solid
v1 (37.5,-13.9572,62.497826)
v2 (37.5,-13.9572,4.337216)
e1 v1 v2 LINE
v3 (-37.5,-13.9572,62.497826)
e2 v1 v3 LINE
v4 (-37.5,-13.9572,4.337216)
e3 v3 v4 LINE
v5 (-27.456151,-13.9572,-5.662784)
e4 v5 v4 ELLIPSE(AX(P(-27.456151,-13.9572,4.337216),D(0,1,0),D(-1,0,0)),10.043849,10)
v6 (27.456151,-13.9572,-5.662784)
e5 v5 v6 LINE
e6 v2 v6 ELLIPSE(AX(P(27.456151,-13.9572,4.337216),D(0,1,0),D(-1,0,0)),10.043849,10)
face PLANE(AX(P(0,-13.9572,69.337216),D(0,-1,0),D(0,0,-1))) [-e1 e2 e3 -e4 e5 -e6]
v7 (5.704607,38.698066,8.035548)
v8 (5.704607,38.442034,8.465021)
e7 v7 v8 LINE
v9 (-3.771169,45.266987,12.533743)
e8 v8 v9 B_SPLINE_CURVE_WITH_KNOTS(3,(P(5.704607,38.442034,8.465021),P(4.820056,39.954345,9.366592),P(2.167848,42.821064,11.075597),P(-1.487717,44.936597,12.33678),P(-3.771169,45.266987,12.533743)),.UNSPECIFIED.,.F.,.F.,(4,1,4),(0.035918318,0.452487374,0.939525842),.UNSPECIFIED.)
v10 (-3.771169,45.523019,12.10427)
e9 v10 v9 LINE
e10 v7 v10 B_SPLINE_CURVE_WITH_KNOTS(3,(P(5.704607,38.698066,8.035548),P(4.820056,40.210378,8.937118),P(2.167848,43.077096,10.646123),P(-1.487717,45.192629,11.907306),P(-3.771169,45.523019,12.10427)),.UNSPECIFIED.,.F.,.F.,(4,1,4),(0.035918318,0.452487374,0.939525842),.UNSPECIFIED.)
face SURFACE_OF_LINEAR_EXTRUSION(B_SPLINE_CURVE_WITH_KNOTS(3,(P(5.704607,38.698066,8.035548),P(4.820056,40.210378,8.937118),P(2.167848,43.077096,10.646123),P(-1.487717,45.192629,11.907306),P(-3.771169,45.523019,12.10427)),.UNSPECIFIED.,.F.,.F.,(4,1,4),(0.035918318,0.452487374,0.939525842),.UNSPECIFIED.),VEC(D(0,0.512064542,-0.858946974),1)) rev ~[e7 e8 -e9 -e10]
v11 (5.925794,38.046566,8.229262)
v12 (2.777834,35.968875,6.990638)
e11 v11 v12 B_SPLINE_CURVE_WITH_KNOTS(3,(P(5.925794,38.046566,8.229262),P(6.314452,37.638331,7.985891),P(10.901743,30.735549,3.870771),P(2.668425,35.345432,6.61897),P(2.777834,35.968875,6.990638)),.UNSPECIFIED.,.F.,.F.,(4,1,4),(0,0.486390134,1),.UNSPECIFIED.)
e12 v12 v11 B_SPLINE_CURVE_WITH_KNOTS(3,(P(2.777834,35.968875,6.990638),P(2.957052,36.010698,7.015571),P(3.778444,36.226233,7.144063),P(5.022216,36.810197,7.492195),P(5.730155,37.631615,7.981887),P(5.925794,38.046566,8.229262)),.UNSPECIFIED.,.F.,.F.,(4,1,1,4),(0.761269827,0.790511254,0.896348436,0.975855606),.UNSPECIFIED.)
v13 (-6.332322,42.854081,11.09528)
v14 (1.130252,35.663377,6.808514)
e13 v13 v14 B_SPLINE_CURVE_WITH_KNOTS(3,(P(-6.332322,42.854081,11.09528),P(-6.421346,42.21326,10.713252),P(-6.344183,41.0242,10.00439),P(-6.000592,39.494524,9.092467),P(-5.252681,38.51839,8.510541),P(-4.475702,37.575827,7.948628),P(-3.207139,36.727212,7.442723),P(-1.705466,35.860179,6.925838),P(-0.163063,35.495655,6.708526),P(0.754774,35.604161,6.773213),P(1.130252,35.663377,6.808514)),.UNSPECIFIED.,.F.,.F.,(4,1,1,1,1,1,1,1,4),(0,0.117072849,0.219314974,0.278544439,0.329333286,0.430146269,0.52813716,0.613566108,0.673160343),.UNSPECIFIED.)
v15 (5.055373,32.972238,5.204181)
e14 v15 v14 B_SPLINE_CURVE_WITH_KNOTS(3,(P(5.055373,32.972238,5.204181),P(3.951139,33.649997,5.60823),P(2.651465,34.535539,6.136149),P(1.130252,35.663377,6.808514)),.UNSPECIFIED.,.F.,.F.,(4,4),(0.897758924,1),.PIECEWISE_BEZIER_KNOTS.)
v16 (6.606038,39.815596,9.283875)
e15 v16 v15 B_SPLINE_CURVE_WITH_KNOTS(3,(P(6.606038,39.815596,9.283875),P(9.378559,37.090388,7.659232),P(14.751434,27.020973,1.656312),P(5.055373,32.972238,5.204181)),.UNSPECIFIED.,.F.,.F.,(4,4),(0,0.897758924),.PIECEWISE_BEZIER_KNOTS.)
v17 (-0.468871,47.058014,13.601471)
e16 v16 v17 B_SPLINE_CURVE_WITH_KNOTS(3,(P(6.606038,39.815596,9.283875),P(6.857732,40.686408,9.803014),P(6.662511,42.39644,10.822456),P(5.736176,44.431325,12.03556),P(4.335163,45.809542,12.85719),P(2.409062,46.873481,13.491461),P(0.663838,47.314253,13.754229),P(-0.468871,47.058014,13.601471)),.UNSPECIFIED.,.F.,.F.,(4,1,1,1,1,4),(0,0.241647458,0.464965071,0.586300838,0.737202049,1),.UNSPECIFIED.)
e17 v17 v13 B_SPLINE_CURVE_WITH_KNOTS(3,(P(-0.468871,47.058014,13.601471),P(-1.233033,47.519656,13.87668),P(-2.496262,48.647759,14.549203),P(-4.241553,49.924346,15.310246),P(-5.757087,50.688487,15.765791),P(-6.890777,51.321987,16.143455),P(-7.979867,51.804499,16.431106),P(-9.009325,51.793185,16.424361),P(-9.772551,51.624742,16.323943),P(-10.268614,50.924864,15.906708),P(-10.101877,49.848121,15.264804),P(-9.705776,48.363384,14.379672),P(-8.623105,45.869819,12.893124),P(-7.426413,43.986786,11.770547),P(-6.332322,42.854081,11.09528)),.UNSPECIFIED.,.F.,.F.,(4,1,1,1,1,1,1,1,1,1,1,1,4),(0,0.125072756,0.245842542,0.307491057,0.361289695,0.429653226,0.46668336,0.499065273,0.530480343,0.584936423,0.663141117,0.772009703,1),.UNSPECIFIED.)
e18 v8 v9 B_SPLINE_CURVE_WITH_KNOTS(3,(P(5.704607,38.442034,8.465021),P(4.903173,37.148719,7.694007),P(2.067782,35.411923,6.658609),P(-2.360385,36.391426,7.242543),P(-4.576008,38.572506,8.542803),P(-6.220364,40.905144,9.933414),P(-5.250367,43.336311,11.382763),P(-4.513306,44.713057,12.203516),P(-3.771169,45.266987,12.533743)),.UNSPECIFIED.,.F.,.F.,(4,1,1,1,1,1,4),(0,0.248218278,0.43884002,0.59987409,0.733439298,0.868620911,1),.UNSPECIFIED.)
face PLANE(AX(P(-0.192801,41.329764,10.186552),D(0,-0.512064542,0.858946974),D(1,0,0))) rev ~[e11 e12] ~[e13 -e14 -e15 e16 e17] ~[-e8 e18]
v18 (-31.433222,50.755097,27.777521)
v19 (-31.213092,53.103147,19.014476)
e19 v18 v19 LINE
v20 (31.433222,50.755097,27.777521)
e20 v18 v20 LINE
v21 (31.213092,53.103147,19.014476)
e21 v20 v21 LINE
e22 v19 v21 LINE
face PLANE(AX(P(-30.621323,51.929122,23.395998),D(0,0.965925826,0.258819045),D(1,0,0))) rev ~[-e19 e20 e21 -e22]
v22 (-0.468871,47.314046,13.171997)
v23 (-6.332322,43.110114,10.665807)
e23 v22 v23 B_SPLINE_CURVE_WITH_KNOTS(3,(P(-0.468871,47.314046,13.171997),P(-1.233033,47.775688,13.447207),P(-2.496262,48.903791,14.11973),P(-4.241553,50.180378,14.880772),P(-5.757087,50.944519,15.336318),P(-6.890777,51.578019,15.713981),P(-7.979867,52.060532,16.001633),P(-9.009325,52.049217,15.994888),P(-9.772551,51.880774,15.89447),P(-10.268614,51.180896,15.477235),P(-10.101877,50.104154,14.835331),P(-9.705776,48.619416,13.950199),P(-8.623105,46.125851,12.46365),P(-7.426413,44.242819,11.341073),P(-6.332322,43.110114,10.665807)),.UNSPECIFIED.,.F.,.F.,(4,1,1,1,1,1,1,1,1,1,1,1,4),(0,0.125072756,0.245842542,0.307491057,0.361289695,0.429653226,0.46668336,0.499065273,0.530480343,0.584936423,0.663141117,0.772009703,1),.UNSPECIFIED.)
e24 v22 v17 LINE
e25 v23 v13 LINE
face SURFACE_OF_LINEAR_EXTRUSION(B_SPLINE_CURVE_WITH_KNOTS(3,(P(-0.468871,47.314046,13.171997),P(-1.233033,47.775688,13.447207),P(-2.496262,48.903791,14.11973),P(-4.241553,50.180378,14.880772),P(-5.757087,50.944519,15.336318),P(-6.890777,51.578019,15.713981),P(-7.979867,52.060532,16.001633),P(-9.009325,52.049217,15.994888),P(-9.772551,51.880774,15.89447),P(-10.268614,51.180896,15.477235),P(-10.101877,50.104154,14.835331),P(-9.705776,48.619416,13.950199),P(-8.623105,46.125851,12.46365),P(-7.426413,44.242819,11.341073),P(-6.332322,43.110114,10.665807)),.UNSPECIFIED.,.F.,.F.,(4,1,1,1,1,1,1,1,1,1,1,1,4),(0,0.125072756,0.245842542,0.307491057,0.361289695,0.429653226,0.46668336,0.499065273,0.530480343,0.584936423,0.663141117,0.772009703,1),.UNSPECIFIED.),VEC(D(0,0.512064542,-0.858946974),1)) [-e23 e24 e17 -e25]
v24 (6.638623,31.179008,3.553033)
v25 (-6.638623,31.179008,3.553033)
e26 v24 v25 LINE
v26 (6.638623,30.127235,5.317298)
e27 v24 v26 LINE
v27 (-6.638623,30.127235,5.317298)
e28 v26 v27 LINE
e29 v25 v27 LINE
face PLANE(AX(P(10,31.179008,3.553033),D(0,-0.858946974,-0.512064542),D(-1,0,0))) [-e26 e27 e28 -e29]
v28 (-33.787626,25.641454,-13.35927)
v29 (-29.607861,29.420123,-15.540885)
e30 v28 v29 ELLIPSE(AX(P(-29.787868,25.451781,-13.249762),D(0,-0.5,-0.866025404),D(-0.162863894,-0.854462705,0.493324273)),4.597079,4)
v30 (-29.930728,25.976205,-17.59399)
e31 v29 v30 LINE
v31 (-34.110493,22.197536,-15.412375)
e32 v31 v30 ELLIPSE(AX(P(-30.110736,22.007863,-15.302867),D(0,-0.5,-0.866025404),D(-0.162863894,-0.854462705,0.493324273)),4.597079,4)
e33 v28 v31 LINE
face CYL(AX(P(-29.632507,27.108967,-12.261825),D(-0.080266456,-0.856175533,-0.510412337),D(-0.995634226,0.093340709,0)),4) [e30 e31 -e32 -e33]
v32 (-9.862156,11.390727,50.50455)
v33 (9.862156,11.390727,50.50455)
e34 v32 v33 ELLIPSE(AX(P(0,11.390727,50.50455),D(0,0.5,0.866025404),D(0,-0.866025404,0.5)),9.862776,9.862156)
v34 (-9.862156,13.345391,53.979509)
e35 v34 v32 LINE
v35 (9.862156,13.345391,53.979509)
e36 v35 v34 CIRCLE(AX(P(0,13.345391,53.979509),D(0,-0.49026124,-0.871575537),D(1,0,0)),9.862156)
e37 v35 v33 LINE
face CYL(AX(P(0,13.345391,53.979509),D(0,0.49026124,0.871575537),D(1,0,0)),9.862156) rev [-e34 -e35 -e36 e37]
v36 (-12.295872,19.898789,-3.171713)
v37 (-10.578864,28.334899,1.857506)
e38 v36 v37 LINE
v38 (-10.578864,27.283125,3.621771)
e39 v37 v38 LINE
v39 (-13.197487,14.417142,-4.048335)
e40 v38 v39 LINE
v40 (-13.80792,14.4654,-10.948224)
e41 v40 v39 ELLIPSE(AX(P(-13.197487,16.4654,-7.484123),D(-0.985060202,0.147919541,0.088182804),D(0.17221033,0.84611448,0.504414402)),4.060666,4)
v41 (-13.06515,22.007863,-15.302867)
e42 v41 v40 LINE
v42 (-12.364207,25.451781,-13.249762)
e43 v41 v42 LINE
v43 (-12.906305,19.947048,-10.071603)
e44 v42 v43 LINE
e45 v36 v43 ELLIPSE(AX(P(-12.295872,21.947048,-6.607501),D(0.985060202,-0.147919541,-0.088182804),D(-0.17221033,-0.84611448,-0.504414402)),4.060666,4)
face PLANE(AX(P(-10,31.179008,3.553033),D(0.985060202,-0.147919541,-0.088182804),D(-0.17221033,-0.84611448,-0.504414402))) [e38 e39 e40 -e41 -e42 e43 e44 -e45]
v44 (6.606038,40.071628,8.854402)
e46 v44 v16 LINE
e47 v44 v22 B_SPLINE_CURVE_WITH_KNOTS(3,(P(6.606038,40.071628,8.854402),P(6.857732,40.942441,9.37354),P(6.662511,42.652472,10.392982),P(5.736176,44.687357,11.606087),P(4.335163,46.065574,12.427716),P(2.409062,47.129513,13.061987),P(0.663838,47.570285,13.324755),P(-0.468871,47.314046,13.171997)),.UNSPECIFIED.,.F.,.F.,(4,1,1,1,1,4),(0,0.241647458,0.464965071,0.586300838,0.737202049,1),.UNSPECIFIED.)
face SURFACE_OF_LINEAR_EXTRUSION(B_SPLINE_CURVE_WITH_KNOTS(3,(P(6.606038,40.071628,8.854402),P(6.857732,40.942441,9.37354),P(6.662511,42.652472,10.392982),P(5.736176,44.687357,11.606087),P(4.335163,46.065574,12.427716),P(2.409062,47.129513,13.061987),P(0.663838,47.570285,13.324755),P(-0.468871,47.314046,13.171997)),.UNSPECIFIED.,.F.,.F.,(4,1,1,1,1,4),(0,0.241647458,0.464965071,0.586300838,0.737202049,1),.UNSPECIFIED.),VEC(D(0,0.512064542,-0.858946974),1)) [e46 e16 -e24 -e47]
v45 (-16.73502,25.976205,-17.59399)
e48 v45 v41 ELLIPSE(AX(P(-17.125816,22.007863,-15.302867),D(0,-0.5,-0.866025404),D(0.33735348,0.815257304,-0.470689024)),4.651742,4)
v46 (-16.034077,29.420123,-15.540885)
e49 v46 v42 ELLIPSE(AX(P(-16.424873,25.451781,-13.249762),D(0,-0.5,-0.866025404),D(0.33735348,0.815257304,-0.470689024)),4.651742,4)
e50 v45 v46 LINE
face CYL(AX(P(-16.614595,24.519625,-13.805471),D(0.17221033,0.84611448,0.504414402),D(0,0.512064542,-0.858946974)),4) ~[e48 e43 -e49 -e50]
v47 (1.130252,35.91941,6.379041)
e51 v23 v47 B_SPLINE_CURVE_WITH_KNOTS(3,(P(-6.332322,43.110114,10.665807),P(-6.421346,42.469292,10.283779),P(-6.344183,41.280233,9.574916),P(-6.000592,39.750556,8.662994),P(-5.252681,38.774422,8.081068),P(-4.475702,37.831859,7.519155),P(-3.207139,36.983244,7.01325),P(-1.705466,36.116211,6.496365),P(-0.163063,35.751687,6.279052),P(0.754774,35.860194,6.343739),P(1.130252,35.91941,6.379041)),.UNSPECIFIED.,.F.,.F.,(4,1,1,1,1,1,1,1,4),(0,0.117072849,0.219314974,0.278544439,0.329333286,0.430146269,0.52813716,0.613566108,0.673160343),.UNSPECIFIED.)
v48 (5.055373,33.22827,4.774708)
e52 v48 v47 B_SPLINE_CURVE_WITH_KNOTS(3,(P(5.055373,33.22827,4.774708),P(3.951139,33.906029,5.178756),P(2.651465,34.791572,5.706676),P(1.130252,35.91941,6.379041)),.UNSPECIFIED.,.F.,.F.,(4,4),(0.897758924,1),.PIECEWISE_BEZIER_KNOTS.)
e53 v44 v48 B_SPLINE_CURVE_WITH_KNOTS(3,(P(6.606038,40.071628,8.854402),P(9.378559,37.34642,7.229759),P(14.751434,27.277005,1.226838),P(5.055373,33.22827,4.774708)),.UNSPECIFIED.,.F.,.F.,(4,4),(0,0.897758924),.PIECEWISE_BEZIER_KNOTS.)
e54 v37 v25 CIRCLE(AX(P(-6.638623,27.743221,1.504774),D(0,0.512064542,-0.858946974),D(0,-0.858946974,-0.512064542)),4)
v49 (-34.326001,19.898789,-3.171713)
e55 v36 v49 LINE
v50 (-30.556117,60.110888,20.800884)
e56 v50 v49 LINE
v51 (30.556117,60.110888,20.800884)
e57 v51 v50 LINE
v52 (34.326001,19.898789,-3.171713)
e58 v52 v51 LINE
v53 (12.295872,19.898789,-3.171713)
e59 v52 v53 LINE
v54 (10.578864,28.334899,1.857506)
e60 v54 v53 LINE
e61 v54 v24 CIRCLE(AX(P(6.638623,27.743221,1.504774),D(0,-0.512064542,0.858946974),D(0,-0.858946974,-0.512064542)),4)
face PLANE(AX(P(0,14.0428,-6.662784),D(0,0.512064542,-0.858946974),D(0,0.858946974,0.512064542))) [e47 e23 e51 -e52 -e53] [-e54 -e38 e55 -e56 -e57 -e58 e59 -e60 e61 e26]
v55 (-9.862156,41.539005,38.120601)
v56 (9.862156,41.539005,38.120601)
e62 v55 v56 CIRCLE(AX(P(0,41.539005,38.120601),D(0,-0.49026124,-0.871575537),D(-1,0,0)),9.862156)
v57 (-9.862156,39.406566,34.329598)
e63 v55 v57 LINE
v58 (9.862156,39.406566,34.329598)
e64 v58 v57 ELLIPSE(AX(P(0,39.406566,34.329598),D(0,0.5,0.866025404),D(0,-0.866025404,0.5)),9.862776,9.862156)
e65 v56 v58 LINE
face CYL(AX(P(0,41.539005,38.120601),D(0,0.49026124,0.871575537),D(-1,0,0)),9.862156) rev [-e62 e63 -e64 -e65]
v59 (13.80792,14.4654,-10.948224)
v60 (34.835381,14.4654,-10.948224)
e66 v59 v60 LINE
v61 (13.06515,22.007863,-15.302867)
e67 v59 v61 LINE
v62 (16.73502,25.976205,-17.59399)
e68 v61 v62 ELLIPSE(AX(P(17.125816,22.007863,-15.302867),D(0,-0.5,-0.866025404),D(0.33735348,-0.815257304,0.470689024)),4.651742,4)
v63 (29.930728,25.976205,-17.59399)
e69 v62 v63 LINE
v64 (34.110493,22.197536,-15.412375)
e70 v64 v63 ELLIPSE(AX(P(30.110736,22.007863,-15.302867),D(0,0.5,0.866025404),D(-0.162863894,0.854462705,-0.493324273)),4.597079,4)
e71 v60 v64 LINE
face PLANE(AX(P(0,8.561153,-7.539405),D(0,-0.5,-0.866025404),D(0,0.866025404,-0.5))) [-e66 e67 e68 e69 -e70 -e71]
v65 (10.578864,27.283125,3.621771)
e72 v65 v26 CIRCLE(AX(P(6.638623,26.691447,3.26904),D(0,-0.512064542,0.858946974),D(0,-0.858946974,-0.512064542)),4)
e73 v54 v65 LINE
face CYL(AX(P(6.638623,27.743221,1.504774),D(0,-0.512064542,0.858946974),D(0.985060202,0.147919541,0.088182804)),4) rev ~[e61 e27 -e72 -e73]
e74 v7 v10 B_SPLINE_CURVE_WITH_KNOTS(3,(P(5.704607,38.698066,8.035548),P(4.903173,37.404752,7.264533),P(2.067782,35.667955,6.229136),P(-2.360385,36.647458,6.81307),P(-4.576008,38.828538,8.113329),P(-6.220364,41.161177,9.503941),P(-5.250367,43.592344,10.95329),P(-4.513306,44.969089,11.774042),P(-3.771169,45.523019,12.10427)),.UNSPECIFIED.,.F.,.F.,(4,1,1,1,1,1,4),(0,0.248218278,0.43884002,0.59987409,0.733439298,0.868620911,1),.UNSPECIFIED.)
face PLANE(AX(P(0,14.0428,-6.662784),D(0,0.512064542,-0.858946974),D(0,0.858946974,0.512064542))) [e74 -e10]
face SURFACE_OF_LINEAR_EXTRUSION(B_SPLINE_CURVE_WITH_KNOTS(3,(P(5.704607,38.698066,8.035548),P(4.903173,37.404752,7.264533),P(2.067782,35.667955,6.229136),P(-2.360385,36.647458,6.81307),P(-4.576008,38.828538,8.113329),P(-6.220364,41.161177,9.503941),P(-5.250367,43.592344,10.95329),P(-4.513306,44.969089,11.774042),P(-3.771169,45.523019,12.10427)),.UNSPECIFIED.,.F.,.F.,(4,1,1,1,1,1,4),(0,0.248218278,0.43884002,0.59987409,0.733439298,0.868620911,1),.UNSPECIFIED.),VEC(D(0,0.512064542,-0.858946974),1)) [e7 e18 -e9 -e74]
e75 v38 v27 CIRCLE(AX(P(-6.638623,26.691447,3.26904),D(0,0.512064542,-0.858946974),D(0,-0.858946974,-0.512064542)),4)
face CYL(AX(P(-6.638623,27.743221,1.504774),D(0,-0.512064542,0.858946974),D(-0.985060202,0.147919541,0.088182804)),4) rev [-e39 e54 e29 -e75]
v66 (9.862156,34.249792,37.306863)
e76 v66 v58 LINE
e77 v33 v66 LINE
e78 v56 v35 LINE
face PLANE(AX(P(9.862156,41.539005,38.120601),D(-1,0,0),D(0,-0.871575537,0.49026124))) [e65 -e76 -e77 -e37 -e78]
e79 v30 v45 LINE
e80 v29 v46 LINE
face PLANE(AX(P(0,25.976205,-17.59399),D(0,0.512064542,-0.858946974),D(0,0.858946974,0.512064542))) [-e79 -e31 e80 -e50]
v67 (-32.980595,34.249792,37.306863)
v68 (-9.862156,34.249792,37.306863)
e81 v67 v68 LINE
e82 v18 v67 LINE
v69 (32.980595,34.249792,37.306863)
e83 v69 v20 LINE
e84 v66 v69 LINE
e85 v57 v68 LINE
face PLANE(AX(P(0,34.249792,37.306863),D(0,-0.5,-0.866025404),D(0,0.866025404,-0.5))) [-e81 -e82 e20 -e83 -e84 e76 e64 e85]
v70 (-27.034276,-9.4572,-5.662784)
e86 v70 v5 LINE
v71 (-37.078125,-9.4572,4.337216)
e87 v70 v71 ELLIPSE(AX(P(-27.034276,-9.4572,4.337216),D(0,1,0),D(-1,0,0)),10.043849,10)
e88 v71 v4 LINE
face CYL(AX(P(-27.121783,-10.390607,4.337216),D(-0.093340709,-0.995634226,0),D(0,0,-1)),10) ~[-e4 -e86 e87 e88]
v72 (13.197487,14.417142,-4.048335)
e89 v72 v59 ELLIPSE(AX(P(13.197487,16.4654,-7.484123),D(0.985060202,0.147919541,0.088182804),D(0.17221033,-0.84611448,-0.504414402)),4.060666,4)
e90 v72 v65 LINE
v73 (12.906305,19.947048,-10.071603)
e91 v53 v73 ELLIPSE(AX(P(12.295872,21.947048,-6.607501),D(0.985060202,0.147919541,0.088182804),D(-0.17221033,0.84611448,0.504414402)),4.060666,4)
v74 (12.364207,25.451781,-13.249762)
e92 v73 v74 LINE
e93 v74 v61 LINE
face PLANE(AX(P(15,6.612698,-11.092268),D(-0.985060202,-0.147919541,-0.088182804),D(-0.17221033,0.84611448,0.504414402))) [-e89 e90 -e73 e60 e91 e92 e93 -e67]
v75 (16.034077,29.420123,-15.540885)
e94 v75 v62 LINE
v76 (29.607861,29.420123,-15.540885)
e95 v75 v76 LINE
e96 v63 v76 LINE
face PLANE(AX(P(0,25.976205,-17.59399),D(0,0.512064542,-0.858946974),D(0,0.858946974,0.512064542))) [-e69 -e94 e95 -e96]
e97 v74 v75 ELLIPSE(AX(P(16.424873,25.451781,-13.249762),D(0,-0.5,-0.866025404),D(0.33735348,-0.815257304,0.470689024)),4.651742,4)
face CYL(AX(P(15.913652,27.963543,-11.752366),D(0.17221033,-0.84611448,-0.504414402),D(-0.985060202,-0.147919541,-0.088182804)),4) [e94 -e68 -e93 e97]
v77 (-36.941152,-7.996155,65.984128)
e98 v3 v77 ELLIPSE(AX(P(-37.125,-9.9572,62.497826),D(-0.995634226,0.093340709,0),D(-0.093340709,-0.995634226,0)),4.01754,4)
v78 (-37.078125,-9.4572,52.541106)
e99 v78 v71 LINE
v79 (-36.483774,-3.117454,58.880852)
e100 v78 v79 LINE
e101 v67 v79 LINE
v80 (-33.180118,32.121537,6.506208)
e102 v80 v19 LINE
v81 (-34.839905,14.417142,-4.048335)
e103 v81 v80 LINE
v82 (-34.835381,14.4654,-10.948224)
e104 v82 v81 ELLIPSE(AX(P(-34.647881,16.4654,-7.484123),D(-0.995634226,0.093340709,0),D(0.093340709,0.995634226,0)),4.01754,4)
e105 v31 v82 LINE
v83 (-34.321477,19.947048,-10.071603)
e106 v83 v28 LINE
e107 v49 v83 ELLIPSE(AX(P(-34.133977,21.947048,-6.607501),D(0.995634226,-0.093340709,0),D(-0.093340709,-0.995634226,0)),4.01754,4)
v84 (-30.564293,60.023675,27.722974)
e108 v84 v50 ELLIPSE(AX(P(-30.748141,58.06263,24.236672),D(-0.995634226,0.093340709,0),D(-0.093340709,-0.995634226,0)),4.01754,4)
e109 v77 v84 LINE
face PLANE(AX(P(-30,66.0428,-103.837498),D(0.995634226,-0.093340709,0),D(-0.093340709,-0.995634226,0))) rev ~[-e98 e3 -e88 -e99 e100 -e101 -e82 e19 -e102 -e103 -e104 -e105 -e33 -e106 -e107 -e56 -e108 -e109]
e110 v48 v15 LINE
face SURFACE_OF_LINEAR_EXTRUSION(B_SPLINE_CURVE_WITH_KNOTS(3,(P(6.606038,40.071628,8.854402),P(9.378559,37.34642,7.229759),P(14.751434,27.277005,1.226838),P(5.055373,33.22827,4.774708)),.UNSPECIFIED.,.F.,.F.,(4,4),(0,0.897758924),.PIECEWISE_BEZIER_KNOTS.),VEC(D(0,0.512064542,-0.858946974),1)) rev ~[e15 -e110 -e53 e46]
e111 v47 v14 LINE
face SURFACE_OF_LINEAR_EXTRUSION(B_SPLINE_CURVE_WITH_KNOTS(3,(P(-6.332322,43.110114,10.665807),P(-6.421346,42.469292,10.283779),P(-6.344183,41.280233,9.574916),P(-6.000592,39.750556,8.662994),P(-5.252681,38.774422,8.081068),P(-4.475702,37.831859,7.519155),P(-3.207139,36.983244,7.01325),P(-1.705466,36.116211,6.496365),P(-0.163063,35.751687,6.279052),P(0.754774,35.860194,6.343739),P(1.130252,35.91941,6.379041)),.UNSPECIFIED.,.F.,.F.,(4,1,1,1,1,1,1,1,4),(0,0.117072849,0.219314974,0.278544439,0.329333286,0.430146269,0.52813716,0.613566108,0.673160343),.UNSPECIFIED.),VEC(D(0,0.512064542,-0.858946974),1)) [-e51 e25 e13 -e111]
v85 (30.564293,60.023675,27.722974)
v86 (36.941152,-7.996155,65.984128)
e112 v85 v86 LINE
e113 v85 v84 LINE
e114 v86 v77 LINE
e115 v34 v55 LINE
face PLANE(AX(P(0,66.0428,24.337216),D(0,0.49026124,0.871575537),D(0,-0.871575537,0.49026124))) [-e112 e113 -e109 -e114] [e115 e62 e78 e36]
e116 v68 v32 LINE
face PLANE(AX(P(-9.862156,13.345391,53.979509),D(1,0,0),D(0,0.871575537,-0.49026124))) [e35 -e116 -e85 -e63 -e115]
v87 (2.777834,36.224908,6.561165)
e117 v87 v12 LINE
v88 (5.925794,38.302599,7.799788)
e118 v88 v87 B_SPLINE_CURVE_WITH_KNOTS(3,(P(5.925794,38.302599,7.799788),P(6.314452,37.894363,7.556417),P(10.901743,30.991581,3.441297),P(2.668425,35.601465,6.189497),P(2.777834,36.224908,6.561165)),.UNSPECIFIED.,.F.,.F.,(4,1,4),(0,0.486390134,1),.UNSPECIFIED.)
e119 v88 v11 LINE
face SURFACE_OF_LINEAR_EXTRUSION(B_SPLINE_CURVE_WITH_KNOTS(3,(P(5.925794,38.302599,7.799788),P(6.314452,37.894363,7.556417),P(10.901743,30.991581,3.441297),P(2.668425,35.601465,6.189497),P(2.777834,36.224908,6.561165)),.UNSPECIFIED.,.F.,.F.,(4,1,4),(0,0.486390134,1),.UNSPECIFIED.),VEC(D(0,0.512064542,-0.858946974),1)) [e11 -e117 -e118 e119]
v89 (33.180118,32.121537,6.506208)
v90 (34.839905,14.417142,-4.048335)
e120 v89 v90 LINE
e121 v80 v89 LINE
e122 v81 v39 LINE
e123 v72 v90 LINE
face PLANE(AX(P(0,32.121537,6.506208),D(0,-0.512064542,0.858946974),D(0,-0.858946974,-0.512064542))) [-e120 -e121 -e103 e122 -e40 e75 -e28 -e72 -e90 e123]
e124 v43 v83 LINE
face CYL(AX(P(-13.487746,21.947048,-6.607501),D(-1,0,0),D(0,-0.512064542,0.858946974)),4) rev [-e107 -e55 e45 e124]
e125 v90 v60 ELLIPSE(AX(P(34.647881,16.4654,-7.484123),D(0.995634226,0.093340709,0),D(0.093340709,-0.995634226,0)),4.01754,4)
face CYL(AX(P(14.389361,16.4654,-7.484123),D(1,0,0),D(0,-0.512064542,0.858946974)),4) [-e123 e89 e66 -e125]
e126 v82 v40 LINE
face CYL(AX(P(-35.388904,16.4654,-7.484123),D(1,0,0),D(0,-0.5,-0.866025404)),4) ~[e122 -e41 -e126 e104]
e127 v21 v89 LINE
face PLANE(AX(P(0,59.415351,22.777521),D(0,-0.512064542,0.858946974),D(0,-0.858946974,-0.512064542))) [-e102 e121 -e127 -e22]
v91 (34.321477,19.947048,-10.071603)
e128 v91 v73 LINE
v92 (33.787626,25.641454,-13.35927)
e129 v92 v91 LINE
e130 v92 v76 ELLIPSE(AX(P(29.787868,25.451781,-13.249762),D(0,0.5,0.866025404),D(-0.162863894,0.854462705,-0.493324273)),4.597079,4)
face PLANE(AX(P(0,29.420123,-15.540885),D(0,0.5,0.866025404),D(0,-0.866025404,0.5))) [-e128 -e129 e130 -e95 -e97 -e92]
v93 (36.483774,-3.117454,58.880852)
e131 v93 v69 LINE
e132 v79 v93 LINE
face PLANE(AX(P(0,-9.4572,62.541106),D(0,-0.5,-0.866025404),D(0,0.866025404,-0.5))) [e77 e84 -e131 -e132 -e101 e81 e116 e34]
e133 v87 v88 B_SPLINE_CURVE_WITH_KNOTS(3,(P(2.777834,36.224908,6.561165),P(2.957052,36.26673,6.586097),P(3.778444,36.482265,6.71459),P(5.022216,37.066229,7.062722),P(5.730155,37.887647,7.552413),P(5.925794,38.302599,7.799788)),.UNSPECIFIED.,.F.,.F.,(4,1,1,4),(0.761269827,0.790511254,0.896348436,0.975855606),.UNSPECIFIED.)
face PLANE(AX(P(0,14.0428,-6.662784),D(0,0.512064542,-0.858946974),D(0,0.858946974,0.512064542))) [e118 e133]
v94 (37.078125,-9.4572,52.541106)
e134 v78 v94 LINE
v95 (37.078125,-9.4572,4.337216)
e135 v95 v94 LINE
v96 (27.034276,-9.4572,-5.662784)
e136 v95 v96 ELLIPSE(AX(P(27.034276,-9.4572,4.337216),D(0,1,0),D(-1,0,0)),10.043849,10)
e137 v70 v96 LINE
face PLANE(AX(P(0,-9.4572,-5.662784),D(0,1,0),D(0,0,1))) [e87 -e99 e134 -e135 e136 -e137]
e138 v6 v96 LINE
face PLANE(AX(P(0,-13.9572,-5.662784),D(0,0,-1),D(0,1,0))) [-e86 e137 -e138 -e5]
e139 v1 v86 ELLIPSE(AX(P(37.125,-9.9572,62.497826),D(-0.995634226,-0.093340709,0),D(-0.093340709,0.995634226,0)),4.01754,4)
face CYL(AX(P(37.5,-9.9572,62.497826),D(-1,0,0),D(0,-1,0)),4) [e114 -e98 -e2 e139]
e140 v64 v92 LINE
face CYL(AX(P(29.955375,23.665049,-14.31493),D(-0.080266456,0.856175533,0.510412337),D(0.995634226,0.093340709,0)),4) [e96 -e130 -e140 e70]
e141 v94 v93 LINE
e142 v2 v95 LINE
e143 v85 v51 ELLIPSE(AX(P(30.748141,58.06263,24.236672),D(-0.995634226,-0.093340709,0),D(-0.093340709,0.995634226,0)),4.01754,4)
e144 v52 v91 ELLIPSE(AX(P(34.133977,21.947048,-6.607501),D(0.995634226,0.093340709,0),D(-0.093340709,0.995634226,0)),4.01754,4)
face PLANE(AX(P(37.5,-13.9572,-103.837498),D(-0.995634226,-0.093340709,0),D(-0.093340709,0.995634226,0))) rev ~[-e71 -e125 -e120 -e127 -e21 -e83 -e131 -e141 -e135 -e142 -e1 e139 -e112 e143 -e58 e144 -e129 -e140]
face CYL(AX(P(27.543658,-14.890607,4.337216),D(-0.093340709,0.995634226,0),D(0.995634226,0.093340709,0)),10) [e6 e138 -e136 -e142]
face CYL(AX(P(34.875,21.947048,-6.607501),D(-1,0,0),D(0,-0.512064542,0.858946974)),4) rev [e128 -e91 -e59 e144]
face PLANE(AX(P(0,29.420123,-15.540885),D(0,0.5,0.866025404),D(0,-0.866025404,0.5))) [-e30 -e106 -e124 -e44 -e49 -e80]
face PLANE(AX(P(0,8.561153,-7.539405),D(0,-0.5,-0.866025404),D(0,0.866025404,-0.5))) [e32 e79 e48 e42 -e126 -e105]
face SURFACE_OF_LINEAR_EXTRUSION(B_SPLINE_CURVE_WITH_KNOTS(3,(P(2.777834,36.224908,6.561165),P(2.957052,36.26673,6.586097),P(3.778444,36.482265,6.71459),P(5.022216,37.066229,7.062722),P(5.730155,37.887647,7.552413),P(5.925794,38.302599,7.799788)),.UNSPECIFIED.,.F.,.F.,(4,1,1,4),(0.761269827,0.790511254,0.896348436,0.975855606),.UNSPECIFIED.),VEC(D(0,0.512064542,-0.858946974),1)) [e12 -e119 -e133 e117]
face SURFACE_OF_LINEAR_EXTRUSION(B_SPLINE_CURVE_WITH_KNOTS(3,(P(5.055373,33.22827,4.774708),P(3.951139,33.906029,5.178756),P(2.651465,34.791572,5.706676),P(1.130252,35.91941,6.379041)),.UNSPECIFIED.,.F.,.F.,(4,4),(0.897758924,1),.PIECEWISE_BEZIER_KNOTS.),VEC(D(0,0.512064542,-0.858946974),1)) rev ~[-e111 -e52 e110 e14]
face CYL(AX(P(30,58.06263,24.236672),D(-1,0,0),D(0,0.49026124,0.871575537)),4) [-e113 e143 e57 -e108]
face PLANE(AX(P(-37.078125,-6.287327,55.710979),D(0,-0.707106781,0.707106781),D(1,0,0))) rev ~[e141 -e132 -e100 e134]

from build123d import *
from OCP.BRepFilletAPI import BRepFilletAPI_MakeChamfer

# Parameters (mm, degrees)
EXTRUDE_2_DEPTH                 = 37.5
CUT_EXTRUDE_7_DEPTH             = 103.837497834
CUT_EXTRUDE_7_DEPTH_BACK        = 103.837497834
CUT_EXTRUDE_3_DEPTH             = 103.837497834
CUT_EXTRUDE_3_DEPTH_BACK        = 103.837497834
CUT_EXTRUDE_4_REACH             = 108.804
CUT_EXTRUDE_4_DIRECTION_2_DEPTH = 107.803974103
FILLET_1_R                      = 10
FILLET_2_R                      = 10
CHAMFER_1_SIZE                  = 10
CHAMFER_1_SIZE2                 = 7.348769571
CHAMFER_1_SIZE2_2               = 7.320508076
FILLET_4_R                      = 4
FILLET_5_R                      = 4
FILLET_6_R                      = 4
FILLET_7_R                      = 4
FILLET_8_R                      = 4
CUT_EXTRUDE_5_REACH             = 86.613
FILLET_9_R                      = 4
CUT_EXTRUDE_19_DEPTH            = 0.5


with BuildPart() as part:
    # 草图1 → 凸台-拉伸2 (new, symmetric)
    with BuildSketch(Plane(origin=(0, 0, 0), x_dir=(0, 0, -1), z_dir=(1, 0, 0))):
        Polygon((-69.337215993, -13.957199945), (5.662784007, -13.957199945), (5.662784007, -9.457199945), (-62.541106353, -9.457199945), (-37.306862797, 34.249791985), (-22.77752063, 59.415350818), (-6.506208301, 32.121536588), (7.539405244, 8.561152577), (17.593990312, 25.976204763), (15.540885381, 29.420122711), (6.662784007, 14.042800055), (-24.337215993, 66.042800055), align=None)
    extrude(amount=EXTRUDE_2_DEPTH, both=True)

    # 草图3 → 切除-拉伸-薄壁7 (cut, two sides: drawn at the far end of the back side and taken through both)
    with BuildSketch(Plane.XY.offset(-CUT_EXTRUDE_7_DEPTH_BACK)):
        Polygon((-30, 66.042800055), (-37.5, -13.957199945), (-47.456342261, -13.023792858), (-39.956342261, 66.976207142), align=None)
    extrude(amount=CUT_EXTRUDE_7_DEPTH + CUT_EXTRUDE_7_DEPTH_BACK, mode=Mode.SUBTRACT)

    # 草图5 → 切除-拉伸3 (cut, two sides: drawn at the far end of the back side and taken through both)
    with BuildSketch(Plane.XY.offset(-CUT_EXTRUDE_3_DEPTH_BACK)):
        Polygon((37.5, 66.042800055), (37.5, -13.957199945), (30, 66.042800055), align=None)
    extrude(amount=CUT_EXTRUDE_3_DEPTH + CUT_EXTRUDE_3_DEPTH_BACK, mode=Mode.SUBTRACT)

    # 草图7 → 切除-拉伸4 (cut, up to next)
    with BuildSketch(Plane(origin=(0, 6.612698137, -11.092267843), x_dir=(-1, 0, 0), z_dir=(0, 0.5120645423166438, -0.8589469742085631)), mode=Mode.PRIVATE) as cut_extrude_4_sk1:
        Polygon((-10, 28.600496992), (10, 28.600496992), (15, 0), (-15, 0), align=None)
    cut_extrude_4_tool1 = extrude(cut_extrude_4_sk1.sketch, amount=-CUT_EXTRUDE_4_REACH, mode=Mode.PRIVATE) & part.part
    add(cut_extrude_4_tool1.solids().sort_by_distance((0, 18.076976, -4.257794))[0], mode=Mode.SUBTRACT)

    # 草图7 → 切除-拉伸4 direction 2 (cut)
    with BuildSketch(Plane(origin=(0, 6.612698137, -11.092267843), x_dir=(-1, 0, 0), z_dir=(0, 0.5120645423166438, -0.8589469742085631))):
        Polygon((-10, 28.600496992), (10, 28.600496992), (15, 0), (-15, 0), align=None)
    extrude(amount=CUT_EXTRUDE_4_DIRECTION_2_DEPTH, mode=Mode.SUBTRACT)

    # 圆角1
    fillet_1_edges = [part.edges().sort_by_distance(p)[0] for p in [
        (37.2890625, -11.707199945, -5.662784007),
    ]]
    fillet(fillet_1_edges, radius=FILLET_1_R)

    # 圆角2
    fillet_2_edges = [part.edges().sort_by_distance(p)[0] for p in [
        (-37.2890625, -11.707199945, -5.662784007),
    ]]
    fillet(fillet_2_edges, radius=FILLET_2_R)

    # 倒角1: one chamfer whose edges measure the first distance from different faces: ONE call of the kernel's chamfer builder (chamfer() names one face for all edges)
    chamfer_1_edges_1 = [part.edges().sort_by_distance(p)[0] for p in [
        (0, 59.415350818, 22.77752063),
    ]]
    chamfer_1_side_1 = [part.faces().sort_by_distance(p)[0] for p in [
        (0, 23.884294487, 43.291385568),
    ]]
    chamfer_1_edges_2 = [part.edges().sort_by_distance(p)[0] for p in [
        (0, -9.457199945, 62.541106353),
    ]]
    chamfer_1_side_2 = [part.faces().sort_by_distance(p)[0] for p in [
        (0, -9.457199945, 28.713118307),
    ]]
    chamfer_1 = BRepFilletAPI_MakeChamfer(part.part.solid().wrapped)
    for e in chamfer_1_edges_1:
        chamfer_1.Add(CHAMFER_1_SIZE, CHAMFER_1_SIZE2, e.wrapped, chamfer_1_side_1[0].wrapped)  # the first distance lies on this face
    for e in chamfer_1_edges_2:
        chamfer_1.Add(CHAMFER_1_SIZE, CHAMFER_1_SIZE2_2, e.wrapped, chamfer_1_side_2[0].wrapped)  # the first distance lies on this face
    add(Compound.cast(chamfer_1.Shape()), mode=Mode.REPLACE)

    # 圆角4
    fillet_4_edges = [part.edges().sort_by_distance(p)[0] for p in [
        (0, -13.957199945, 69.337215993),
    ]]
    fillet(fillet_4_edges, radius=FILLET_4_R)

    # 圆角5
    fillet_5_edges = [part.edges().sort_by_distance(p)[0] for p in [
        (0, 66.042800055, 24.337215993),
    ]]
    fillet(fillet_5_edges, radius=FILLET_5_R)

    # 圆角6
    fillet_6_edges = [part.edges().sort_by_distance(p)[0] for p in [
        (24.181372827, 14.042800055, -6.662784007),
        (-24.181372827, 14.042800055, -6.662784007),
    ]]
    fillet(fillet_6_edges, radius=FILLET_6_R)

    # 圆角7
    fillet_7_edges = [part.edges().sort_by_distance(p)[0] for p in [
        (24.88913288, 8.561152577, -7.539405244),
        (-24.88913288, 8.561152577, -7.539405244),
    ]]
    fillet(fillet_7_edges, radius=FILLET_7_R)

    # 圆角8
    fillet_8_edges = [part.edges().sort_by_distance(p)[0] for p in [
        (12.323882788, 27.698163737, -16.567437846),
        (-12.323882788, 27.698163737, -16.567437846),
        (-33.594809655, 27.698163737, -16.567437846),
        (33.594809655, 27.698163737, -16.567437846),
    ]]
    fillet(fillet_8_edges, radius=FILLET_8_R)

    # 切除-拉伸5: up to this plane
    cut_extrude_5_end = Plane(origin=(37.5, 34.249791985, 37.306862797), z_dir=(0, 0.5000000000000044, 0.8660254037844362))
    # 草图8 → 切除-拉伸5 (cut, up to the surface)
    with BuildSketch(Plane(origin=(0, 26.273073909, 46.70768695), x_dir=(1, 0, 0), z_dir=(0, 0.4902612396325587, 0.8715755371245495)), mode=Mode.PRIVATE) as cut_extrude_5_sk1:
        with BuildLine():
            Line((9.862156139, 17.515327615), (9.862156139, -14.832544522))
            ThreePointArc((9.862156139, -14.832544522), (0, -24.694700661), (-9.862156139, -14.832544522))
            Line((-9.862156139, -14.832544522), (-9.862156139, 17.515327615))
            ThreePointArc((-9.862156139, 17.515327615), (0, 27.377483754), (9.862156139, 17.515327615))
        make_face()
    cut_extrude_5_tool1 = split(extrude(cut_extrude_5_sk1.sketch, amount=-CUT_EXTRUDE_5_REACH, mode=Mode.PRIVATE), bisect_by=cut_extrude_5_end, keep=Keep.BOTH, mode=Mode.PRIVATE)
    add(cut_extrude_5_tool1.solids().sort_by_distance((0, 27.442198, 46.050055))[0], mode=Mode.SUBTRACT)

    # 圆角9
    fillet_9_edges = [part.edges().sort_by_distance(p)[0] for p in [
        (10, 30.653121751, 4.435165153),
        (-10, 30.653121751, 4.435165153),
    ]]
    fillet(fillet_9_edges, radius=FILLET_9_R)

    # 草图9 → 切除-拉伸19 (cut)
    # profile 1 of 2: a face of its own
    with BuildSketch(Plane(origin=(0, 6.612698137, -11.092267843), x_dir=(-1, 0, 0), z_dir=(0, 0.5120645423166438, -0.8589469742085631))):
        with BuildLine():
            add(Edge.make_bspline(
                [(-6.606037662, 38.953429024), (-5.711334874, 40.311243339), (-3.854311729, 43.564154073), (-0.858400361, 45.826493842), (0.468870754, 47.38516919)],
                knots=[0, 0, 0, 0, 0.444342779, 1, 1, 1, 1], degree=3))
            add(Edge.make_bspline(
                [(-6.606037662, 38.953429024), (-9.378559135, 35.780697287), (-14.751433674, 24.057721204), (-5.055372805, 30.986280975)],
                knots=[0, 0, 0, 0, 0.897758924, 0.897758924, 0.897758924, 0.897758924], degree=3))
            add(Edge.make_bspline(
                [(-5.055372805, 30.986280975), (-3.951139058, 31.775338472), (-2.651465095, 32.806301591), (-1.130252381, 34.119348895)],
                knots=[0.897758924, 0.897758924, 0.897758924, 0.897758924, 1, 1, 1, 1], degree=3))
            add(Edge.make_bspline(
                [(6.332322248, 42.490883232), (6.421345736, 41.744828612), (6.344182877, 40.360506044), (6.000591752, 38.579631764), (5.252680808, 37.443200943), (4.475701743, 36.345853392), (3.207138679, 35.357882181), (1.705465876, 34.34846817), (0.163062797, 33.924083238), (-0.754774414, 34.050408523), (-1.130252381, 34.119348895)],
                knots=[0, 0, 0, 0, 0.117072849, 0.219314974, 0.278544439, 0.329333286, 0.430146269, 0.52813716, 0.613566108, 0.673160343, 0.673160343, 0.673160343, 0.673160343], degree=3))
            add(Edge.make_bspline(
                [(0.468870754, 47.38516919), (1.233033198, 47.922620622), (2.49626224, 49.235976382), (4.241552698, 50.722199927), (5.757086701, 51.611825239), (6.890776807, 52.349356015), (7.979867228, 52.911105038), (9.009325049, 52.897932667), (9.772550935, 52.701828247), (10.268614434, 51.887019071), (10.101877149, 50.633458002), (9.70577606, 48.904902538), (8.623104825, 46.001853987), (7.426413078, 43.809596625), (6.332322248, 42.490883232)],
                knots=[0, 0, 0, 0, 0.125072756, 0.245842542, 0.307491057, 0.361289695, 0.429653226, 0.46668336, 0.499065273, 0.530480343, 0.584936423, 0.663141117, 0.772009703, 1, 1, 1, 1], degree=3))
        make_face()
        with BuildLine():
            add(Edge.make_bspline(
                [(-5.925793934, 36.893896271), (-6.314452071, 36.418621882), (-10.90174323, 28.38229129), (-2.668424669, 33.749192184), (-2.77783358, 34.475014711)],
                knots=[0, 0, 0, 0, 0.486390134, 1, 1, 1, 1], degree=3))
            add(Edge.make_bspline(
                [(-2.77783358, 34.475014711), (-2.957051517, 34.52370524), (-3.778444373, 34.774634797), (-5.022215854, 35.454494355), (-5.730155434, 36.410802759), (-5.925793934, 36.893896271)],
                knots=[0.761269827, 0.761269827, 0.761269827, 0.761269827, 0.790511254, 0.896348436, 0.975855606, 0.975855606, 0.975855606, 0.975855606], degree=3))
        make_face(mode=Mode.SUBTRACT)
        with BuildLine():
            add(Edge.make_bspline(
                [(-5.704606663, 37.354305889), (-4.82005562, 39.114963546), (-2.167848058, 42.452443751), (1.487716627, 44.915381127), (3.771169156, 45.300026951)],
                knots=[0.035918318, 0.035918318, 0.035918318, 0.035918318, 0.452487374, 0.939525842, 0.939525842, 0.939525842, 0.939525842], degree=3))
            add(Edge.make_bspline(
                [(-5.704606663, 37.354305889), (-4.903172884, 35.848608285), (-2.06778183, 33.826601764), (2.360384852, 34.966954875), (4.576007986, 37.506203367), (6.220363831, 40.221899193), (5.250367062, 43.052302972), (4.513305616, 44.655132724), (3.771169156, 45.300026951)],
                knots=[0, 0, 0, 0, 0.248218278, 0.43884002, 0.59987409, 0.733439298, 0.868620911, 1, 1, 1, 1], degree=3))
        make_face(mode=Mode.SUBTRACT)
    # profile 2 of 2: a face of its own
    with BuildSketch(Plane(origin=(0, 6.612698137, -11.092267843), x_dir=(-1, 0, 0), z_dir=(0, 0.5120645423166438, -0.8589469742085631))):
        with BuildLine():
            add(Edge.make_bspline(
                [(-6.606037662, 38.953429024), (-6.857731684, 39.967243119), (-6.66251098, 41.958089443), (-5.736175757, 44.327135585), (-4.335162577, 45.931678579), (-2.409061861, 47.170333165), (-0.663837917, 47.683486872), (0.468870754, 47.38516919)],
                knots=[0, 0, 0, 0, 0.241647458, 0.464965071, 0.586300838, 0.737202049, 1, 1, 1, 1], degree=3))
            add(Edge.make_bspline(
                [(-6.606037662, 38.953429024), (-5.711334874, 40.311243339), (-3.854311729, 43.564154073), (-0.858400361, 45.826493842), (0.468870754, 47.38516919)],
                knots=[0, 0, 0, 0, 0.444342779, 1, 1, 1, 1], degree=3))
        make_face()
    extrude(amount=-CUT_EXTRUDE_19_DEPTH, mode=Mode.SUBTRACT)


solid = part.part
